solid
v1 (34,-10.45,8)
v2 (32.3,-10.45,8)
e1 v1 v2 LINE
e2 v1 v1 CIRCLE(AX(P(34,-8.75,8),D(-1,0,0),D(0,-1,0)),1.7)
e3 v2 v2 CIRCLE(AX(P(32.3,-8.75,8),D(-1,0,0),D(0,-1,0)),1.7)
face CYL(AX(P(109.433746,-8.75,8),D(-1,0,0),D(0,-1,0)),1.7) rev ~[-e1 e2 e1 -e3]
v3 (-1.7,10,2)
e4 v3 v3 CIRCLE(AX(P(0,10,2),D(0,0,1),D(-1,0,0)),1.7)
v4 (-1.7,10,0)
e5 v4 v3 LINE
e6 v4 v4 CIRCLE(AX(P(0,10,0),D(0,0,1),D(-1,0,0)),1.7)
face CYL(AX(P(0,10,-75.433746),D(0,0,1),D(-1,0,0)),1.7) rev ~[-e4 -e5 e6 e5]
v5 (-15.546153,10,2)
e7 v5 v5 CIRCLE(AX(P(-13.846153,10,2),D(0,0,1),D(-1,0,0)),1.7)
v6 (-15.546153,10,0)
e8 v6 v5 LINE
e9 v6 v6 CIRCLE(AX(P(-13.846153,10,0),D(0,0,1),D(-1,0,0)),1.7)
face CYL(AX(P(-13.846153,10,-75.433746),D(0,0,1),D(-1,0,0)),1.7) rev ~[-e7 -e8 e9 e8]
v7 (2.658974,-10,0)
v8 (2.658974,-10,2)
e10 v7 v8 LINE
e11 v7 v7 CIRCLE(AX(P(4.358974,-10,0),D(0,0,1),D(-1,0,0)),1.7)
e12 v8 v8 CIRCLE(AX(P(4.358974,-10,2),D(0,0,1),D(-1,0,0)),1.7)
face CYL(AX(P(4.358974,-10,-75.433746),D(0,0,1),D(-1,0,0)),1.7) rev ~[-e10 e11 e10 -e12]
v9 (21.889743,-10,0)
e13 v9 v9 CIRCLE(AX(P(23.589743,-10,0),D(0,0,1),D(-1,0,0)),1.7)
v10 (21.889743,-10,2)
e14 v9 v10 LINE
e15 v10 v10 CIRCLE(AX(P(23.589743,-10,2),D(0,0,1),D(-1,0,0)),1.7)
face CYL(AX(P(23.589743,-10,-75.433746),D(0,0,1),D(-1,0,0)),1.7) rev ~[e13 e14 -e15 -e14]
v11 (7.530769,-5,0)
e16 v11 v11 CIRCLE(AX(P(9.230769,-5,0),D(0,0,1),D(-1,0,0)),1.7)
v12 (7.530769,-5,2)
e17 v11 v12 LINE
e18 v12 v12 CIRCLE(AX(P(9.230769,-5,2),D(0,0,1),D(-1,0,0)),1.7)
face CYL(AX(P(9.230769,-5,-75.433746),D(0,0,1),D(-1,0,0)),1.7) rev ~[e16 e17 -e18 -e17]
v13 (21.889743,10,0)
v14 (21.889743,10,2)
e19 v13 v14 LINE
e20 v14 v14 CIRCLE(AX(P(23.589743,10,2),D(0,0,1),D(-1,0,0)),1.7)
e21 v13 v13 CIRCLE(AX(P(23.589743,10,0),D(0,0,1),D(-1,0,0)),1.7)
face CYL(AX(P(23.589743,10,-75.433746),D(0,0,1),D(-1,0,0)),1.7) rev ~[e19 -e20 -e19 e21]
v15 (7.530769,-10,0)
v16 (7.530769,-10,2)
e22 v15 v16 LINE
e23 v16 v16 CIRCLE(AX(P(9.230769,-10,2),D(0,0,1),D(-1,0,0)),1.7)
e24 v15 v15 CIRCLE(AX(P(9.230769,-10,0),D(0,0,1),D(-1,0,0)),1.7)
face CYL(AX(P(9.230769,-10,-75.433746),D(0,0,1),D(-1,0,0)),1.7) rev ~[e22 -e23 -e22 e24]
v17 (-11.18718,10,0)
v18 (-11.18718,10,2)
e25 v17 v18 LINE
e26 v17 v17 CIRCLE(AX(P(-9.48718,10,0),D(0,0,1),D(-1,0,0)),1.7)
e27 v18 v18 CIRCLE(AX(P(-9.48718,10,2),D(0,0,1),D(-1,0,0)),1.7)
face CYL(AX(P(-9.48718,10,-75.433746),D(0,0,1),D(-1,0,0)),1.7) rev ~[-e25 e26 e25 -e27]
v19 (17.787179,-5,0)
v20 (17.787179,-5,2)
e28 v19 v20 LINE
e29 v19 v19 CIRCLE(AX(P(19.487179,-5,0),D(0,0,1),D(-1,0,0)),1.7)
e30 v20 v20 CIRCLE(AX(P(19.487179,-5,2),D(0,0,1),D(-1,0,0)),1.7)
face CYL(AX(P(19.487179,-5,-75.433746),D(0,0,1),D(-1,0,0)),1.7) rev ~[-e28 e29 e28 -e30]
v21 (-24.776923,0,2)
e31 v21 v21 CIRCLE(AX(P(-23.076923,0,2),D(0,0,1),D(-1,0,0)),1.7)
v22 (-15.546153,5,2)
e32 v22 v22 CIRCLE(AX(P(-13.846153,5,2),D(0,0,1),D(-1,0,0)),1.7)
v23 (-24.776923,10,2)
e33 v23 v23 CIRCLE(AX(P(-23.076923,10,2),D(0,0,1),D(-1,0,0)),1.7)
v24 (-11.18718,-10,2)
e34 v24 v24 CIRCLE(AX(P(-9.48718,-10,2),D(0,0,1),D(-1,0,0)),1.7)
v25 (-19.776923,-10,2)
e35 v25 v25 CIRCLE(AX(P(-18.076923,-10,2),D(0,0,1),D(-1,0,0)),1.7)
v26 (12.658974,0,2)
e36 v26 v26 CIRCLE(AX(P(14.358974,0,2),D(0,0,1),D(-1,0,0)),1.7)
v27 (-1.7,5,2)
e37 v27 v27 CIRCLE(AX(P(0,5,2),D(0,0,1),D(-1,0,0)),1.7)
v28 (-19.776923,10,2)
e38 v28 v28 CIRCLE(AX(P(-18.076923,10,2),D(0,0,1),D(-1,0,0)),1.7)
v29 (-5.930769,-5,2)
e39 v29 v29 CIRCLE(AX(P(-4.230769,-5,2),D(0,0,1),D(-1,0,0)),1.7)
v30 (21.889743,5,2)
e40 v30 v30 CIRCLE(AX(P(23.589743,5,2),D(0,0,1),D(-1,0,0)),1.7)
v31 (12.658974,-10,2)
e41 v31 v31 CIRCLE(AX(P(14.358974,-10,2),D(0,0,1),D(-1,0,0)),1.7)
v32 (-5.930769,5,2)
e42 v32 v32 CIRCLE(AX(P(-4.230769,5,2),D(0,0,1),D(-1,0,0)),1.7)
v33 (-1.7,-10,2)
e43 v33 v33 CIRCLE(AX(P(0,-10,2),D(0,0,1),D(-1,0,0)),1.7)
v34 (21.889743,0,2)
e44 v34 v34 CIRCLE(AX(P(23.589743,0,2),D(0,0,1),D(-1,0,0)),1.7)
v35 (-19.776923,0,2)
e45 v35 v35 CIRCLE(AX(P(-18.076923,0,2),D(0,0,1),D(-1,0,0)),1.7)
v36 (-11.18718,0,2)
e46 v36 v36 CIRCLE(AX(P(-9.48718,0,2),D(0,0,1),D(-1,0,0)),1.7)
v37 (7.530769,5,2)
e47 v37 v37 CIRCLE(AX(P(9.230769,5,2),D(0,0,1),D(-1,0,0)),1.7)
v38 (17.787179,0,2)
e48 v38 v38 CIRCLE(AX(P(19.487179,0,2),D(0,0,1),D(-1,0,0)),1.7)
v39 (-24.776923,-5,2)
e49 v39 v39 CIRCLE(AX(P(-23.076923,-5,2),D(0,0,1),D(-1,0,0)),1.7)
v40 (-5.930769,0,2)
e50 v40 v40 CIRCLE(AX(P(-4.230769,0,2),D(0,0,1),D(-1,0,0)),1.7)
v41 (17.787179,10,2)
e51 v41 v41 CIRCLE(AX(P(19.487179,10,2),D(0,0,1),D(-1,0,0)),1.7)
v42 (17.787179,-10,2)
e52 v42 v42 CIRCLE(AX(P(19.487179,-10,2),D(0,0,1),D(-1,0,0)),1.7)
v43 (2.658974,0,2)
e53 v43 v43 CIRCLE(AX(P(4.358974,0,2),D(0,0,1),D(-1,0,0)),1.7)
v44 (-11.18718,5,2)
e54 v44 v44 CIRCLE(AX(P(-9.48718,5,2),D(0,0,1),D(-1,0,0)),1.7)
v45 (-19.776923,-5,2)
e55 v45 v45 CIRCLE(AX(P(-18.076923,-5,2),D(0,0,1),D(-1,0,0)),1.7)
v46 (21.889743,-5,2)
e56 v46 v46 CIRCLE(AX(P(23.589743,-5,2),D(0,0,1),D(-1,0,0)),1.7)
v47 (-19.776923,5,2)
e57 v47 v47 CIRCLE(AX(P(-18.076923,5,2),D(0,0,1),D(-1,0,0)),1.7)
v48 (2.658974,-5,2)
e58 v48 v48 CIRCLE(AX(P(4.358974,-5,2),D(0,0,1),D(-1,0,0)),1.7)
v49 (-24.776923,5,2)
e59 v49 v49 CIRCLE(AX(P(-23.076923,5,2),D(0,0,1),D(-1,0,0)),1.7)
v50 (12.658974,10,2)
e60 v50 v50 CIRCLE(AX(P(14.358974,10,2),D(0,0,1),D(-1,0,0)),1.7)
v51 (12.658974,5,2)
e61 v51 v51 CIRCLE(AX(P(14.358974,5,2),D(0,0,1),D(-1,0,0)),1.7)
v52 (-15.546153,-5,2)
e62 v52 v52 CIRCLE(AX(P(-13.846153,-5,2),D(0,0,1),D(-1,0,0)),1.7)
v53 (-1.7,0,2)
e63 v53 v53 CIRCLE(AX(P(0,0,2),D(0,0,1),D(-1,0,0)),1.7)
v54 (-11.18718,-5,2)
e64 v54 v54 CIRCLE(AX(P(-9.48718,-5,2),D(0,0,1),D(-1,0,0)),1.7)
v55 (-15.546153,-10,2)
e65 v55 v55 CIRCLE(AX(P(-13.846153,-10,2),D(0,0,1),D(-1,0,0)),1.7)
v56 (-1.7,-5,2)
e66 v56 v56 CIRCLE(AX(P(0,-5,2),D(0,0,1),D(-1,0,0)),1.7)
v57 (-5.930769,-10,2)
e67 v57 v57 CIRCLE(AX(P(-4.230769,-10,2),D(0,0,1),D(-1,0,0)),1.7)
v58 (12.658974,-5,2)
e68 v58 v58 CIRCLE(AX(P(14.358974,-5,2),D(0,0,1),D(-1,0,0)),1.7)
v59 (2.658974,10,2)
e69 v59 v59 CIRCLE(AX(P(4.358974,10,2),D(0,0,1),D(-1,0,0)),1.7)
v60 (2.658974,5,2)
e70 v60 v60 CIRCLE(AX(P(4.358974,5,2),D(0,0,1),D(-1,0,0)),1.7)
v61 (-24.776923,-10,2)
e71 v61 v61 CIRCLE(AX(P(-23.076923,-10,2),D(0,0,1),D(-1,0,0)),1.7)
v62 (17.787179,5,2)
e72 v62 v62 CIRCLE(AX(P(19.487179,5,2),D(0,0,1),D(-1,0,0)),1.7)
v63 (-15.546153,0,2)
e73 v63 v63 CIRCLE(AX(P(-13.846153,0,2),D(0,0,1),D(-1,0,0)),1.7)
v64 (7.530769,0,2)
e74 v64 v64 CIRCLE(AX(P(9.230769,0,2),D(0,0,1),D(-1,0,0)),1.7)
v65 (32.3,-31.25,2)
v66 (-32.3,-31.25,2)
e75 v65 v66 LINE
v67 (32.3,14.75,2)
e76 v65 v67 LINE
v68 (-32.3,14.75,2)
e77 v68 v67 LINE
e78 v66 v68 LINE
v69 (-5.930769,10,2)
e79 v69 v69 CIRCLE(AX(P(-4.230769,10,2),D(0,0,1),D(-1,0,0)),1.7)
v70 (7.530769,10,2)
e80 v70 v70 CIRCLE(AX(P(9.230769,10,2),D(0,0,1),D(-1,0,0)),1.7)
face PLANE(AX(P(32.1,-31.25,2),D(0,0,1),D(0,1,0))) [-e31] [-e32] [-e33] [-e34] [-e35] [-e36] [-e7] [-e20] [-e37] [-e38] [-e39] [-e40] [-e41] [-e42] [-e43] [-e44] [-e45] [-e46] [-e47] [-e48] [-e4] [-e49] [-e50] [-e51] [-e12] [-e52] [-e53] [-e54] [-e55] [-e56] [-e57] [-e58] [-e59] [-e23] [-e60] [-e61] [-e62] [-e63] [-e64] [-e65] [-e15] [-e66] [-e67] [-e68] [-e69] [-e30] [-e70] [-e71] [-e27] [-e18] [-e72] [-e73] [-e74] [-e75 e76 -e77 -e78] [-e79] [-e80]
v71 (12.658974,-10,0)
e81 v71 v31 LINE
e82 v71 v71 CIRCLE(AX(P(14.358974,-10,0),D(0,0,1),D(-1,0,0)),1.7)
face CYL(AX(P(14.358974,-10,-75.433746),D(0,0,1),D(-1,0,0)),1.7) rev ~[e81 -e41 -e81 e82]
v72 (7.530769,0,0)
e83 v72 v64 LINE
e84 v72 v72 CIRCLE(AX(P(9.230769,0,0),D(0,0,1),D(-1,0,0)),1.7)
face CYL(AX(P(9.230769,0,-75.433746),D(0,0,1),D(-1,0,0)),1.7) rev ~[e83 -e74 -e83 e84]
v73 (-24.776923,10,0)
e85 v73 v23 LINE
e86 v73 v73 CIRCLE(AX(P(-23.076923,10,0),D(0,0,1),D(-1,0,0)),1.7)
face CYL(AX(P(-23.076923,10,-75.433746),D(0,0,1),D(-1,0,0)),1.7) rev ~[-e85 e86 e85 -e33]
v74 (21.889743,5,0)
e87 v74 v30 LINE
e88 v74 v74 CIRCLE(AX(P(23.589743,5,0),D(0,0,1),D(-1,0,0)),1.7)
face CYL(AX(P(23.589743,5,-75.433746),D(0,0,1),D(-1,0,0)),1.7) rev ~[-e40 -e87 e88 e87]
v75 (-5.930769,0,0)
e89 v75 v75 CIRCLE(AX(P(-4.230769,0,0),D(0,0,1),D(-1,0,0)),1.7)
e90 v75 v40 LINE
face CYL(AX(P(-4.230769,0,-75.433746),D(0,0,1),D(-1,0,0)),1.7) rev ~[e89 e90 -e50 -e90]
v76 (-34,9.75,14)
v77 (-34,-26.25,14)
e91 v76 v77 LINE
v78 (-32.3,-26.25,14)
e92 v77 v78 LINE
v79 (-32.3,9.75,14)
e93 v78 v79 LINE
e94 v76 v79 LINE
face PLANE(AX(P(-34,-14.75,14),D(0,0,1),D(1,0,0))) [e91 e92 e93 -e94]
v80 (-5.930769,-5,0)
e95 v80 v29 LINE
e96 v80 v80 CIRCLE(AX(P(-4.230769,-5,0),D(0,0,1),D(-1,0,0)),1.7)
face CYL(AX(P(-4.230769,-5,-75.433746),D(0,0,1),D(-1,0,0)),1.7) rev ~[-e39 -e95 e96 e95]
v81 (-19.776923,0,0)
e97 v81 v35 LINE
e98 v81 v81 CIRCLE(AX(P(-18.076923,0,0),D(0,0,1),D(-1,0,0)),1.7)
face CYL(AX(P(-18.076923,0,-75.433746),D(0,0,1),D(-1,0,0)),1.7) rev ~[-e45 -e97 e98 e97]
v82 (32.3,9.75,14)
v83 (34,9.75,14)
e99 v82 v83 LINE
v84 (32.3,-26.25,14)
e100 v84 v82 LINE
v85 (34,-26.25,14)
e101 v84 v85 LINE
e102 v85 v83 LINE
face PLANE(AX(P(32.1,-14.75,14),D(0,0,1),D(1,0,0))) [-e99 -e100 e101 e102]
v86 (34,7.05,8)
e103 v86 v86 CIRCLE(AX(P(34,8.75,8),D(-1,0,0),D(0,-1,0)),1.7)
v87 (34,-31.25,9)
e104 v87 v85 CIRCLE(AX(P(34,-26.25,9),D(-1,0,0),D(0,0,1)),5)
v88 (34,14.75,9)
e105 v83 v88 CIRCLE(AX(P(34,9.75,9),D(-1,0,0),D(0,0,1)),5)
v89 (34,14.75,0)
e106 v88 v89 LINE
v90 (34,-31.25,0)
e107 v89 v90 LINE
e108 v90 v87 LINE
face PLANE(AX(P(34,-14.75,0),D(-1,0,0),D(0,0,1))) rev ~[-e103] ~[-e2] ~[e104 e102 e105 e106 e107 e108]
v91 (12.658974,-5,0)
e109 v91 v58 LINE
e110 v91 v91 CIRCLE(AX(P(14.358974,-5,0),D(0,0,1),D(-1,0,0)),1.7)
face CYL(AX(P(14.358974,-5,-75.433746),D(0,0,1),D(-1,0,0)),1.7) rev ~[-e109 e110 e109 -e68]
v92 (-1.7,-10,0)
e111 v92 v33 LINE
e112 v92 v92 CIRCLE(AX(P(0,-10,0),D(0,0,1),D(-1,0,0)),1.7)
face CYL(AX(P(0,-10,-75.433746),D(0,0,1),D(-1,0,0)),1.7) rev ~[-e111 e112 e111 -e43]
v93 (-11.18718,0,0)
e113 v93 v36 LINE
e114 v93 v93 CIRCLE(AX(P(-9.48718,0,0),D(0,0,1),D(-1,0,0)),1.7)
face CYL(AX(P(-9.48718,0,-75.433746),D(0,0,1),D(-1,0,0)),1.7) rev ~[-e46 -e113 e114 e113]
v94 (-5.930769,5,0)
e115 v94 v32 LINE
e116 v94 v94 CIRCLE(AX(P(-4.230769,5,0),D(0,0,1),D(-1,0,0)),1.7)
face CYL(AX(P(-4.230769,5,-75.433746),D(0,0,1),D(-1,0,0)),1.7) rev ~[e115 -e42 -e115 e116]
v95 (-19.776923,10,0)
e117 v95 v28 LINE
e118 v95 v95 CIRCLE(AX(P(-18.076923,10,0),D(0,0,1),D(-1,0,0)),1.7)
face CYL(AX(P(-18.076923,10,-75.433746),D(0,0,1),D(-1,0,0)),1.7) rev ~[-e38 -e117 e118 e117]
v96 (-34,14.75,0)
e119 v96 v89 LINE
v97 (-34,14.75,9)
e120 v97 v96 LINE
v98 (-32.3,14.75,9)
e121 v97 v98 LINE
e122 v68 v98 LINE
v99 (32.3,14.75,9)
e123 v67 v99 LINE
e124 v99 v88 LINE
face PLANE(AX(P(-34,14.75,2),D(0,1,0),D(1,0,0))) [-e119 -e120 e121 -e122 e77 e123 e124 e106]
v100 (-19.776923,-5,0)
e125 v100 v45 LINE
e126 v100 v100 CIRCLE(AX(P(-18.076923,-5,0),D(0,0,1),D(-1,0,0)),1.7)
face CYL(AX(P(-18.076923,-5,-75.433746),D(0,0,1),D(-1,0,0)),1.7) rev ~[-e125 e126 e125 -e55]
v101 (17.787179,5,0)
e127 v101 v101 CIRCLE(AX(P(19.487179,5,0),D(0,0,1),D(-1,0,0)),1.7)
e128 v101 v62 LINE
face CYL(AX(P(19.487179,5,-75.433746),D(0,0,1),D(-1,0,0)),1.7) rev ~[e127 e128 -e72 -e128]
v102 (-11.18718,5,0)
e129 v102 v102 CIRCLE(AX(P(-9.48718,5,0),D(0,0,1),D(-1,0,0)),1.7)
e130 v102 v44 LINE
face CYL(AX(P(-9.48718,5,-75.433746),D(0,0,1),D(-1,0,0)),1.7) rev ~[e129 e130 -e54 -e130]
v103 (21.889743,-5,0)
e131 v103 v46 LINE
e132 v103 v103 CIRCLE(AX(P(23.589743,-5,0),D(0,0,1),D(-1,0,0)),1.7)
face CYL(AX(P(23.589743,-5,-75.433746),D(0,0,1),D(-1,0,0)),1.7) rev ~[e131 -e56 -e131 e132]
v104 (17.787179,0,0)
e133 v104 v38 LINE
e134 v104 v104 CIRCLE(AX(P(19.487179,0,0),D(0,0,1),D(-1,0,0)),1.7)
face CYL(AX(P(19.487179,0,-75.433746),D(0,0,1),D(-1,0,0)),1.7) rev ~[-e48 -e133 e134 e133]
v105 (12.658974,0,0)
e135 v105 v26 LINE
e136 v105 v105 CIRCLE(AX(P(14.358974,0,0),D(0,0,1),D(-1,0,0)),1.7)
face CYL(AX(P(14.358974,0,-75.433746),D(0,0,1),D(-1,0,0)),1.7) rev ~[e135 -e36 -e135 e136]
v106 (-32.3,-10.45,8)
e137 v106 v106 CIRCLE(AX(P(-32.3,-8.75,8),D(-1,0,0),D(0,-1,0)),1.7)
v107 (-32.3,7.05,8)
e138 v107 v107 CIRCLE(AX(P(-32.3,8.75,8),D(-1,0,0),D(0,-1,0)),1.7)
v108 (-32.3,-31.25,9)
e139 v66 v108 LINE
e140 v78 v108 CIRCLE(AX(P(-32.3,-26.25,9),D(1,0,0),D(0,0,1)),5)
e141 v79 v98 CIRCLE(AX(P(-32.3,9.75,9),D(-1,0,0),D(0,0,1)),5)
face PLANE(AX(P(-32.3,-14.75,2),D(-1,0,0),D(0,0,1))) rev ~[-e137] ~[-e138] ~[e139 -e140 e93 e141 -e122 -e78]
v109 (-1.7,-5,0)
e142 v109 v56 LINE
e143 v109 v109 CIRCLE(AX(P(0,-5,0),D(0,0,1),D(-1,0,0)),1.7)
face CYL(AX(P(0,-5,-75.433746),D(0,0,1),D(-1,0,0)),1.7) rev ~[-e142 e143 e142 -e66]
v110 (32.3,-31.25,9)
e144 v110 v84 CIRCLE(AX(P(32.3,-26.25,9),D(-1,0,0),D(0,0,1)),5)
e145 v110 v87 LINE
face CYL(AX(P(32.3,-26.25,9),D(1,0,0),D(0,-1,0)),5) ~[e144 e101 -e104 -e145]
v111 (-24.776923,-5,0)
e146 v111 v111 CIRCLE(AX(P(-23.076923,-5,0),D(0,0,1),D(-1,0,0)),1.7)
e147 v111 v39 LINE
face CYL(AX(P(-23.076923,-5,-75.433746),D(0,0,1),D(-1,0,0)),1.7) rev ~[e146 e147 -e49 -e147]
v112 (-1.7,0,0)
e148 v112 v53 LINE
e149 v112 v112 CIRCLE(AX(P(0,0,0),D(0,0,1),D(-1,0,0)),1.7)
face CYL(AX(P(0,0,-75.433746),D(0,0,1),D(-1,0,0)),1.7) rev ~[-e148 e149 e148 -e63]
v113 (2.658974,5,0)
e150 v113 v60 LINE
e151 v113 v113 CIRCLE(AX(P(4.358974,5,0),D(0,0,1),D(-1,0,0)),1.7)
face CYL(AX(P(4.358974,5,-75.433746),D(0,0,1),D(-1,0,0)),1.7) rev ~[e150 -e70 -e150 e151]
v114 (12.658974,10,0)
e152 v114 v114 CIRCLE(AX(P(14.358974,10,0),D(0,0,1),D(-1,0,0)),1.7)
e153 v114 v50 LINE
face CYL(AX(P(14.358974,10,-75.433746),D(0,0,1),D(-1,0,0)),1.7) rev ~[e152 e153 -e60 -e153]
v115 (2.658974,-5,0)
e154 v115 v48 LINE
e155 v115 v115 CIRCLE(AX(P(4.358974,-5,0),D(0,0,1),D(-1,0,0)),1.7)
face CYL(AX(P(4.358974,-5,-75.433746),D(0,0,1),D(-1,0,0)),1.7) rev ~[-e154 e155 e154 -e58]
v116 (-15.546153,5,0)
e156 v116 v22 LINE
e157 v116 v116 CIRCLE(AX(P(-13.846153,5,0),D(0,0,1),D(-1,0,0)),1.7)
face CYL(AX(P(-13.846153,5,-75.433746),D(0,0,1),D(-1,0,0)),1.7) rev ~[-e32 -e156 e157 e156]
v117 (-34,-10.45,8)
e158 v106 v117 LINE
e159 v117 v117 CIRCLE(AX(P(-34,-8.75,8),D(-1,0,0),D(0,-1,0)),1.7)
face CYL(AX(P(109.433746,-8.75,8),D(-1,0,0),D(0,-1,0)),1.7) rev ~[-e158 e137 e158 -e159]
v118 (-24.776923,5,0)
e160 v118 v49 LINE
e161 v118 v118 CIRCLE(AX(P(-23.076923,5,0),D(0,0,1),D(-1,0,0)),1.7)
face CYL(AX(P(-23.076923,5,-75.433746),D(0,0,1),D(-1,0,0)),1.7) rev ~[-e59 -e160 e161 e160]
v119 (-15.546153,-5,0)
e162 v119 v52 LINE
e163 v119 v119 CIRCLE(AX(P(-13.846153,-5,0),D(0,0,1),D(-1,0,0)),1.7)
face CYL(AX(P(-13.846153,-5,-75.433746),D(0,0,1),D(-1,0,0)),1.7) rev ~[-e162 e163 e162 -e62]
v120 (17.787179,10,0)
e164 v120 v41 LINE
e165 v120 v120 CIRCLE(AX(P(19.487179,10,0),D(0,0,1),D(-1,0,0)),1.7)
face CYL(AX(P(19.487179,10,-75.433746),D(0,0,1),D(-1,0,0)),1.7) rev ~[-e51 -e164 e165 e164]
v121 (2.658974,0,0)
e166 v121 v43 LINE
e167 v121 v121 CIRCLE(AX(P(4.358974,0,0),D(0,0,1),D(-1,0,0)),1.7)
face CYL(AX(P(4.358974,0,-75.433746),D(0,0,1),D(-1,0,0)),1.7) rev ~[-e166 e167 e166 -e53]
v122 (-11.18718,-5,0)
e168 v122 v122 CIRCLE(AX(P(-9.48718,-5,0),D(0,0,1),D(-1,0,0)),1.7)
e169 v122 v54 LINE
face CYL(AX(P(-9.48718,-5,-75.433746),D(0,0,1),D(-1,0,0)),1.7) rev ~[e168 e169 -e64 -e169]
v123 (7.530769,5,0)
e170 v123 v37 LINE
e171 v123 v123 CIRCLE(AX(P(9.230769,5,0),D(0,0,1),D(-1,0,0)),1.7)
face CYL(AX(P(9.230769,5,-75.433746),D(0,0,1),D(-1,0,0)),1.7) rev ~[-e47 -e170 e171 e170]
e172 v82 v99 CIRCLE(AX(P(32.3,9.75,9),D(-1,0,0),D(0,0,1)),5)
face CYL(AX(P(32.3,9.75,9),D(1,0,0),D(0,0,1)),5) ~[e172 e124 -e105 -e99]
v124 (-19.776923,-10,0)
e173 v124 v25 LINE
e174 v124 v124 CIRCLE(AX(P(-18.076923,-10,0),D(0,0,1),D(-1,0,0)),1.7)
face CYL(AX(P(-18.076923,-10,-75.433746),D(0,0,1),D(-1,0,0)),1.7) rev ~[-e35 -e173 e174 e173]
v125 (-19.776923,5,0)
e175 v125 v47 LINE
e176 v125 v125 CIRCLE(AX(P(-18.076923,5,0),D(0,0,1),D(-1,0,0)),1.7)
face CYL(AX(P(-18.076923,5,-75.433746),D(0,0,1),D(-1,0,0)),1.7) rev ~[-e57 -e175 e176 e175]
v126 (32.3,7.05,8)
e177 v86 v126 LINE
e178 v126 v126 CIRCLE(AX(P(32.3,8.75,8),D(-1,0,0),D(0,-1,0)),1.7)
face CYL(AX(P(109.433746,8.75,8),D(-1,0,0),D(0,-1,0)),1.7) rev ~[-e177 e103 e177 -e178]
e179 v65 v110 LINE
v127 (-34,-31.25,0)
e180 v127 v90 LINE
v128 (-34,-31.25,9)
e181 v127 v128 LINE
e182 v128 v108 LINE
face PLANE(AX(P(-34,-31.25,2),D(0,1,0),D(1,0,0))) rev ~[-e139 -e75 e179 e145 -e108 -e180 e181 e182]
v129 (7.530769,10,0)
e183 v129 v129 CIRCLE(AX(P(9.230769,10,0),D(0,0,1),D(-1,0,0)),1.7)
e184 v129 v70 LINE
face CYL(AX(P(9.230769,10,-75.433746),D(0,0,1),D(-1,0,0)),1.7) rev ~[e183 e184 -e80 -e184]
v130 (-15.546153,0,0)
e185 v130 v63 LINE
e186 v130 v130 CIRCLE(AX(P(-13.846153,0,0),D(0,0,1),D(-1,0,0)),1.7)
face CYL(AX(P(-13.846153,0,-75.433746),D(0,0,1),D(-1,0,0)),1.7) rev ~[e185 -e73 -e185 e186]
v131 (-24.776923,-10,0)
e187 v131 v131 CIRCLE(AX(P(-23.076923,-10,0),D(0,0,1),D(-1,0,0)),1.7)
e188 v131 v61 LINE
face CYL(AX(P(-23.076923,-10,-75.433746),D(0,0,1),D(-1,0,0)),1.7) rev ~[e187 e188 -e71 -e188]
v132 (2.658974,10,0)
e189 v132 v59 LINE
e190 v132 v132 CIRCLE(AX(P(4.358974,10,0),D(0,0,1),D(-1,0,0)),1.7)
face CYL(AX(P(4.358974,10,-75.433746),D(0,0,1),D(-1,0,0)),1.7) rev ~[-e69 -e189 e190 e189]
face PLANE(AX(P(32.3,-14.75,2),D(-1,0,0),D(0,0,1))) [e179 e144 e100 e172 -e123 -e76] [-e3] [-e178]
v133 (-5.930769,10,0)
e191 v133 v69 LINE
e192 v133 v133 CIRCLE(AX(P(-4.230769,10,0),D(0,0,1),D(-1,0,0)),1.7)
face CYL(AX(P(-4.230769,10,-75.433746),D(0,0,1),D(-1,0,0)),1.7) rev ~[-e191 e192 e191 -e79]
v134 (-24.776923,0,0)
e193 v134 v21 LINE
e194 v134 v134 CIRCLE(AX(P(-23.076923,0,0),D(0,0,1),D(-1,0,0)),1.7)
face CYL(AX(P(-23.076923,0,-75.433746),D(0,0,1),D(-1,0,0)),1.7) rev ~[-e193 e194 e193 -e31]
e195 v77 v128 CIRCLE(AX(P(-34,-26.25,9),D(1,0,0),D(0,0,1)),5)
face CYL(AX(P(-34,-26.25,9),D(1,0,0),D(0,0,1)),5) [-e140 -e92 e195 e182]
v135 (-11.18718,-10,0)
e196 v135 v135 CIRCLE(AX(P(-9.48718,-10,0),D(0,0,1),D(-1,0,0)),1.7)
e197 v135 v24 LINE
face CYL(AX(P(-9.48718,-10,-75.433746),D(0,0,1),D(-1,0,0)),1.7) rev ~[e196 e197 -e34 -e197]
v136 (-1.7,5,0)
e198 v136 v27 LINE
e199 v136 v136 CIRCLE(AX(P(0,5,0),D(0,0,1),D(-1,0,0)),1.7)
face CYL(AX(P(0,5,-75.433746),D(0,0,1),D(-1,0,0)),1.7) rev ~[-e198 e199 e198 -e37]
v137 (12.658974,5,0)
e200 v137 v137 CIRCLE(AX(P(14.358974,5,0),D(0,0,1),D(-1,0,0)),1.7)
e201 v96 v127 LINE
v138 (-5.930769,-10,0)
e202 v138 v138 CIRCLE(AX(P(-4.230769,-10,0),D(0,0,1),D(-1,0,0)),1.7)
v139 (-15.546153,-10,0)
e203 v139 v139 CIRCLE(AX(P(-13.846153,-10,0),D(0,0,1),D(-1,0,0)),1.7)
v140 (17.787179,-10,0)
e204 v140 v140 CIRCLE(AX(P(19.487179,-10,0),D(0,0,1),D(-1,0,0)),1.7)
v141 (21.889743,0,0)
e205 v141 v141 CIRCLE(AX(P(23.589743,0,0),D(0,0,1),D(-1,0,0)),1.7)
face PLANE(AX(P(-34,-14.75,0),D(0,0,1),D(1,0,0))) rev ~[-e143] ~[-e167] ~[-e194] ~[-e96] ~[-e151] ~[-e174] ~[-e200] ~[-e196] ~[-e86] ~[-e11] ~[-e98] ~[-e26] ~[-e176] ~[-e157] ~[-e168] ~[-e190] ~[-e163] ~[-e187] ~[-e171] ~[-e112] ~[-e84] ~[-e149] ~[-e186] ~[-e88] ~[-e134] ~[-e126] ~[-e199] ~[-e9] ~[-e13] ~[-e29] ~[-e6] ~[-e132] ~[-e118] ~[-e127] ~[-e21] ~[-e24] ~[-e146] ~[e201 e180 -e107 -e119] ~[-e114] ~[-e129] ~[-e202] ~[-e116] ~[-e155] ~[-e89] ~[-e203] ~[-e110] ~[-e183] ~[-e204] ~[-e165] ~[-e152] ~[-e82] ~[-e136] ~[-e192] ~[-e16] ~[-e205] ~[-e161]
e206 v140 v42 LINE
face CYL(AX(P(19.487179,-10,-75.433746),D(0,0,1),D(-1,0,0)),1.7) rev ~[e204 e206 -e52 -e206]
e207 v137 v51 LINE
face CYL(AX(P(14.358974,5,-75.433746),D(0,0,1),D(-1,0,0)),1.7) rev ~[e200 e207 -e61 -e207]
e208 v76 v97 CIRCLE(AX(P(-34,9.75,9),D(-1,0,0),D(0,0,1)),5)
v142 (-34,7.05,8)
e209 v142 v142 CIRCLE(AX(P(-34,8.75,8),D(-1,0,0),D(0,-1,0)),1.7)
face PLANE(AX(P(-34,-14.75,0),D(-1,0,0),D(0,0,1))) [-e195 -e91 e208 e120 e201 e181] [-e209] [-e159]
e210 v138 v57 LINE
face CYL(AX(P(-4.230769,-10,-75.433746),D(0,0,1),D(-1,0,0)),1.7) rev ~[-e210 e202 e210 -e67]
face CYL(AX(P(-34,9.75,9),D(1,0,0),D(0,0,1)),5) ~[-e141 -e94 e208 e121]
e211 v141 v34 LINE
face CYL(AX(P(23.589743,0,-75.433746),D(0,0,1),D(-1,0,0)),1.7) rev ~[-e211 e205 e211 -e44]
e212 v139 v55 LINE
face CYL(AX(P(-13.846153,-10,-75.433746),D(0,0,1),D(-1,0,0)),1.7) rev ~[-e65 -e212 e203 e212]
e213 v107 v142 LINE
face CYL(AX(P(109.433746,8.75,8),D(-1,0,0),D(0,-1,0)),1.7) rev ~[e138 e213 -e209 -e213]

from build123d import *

# Parameters (mm, degrees)
F0_W      = 68
F0_H      = 29.5
F1_DEPTH  = 2
F2_W      = 1.9
F2_H      = 29.5
F3_DEPTH  = 12
F5_D      = 3.4
F7_D      = 3.4
F8_DEPTH  = 16.5
F9_DEPTH  = 0.2
F10_DEPTH = 0.2
F11_R     = 5


with BuildPart() as f1:
    # F0 (on Top) → F1 (new body)
    with BuildSketch(Plane.XY):
        Rectangle(F0_W, F0_H)
    extrude(amount=F1_DEPTH)

    # F2 (on face) → F3 (join)
    with BuildSketch(Plane.XY.offset(2)):
        with Locations((-33.05, 0)):
            Rectangle(F2_W, F2_H)
        with Locations((33.05, 0)):
            Rectangle(F2_W, F2_H)
    extrude(amount=F3_DEPTH)

    # F5 (through all)
    with Locations(Plane.YZ.offset(34)):
        with Locations((-8.75, 8), (8.75, 8)):
            Hole(F5_D / 2)

    # F7 (through all)
    with Locations(Plane(origin=(0, 0, 0), x_dir=(1, 0, 0), z_dir=(0, 0, -1))):
        with Locations((-23.0769233018, -10), (-18.076922571, -10), (-13.8461533964, -10), (-9.4871796933, -10), (-4.2307691746, -10), (0, -10), (4.3589744339, -10), (9.2307691746, -10), (14.3589744339, -10), (19.4871789625, -10), (23.5897428777, -10), (23.5897428777, -5), (19.4871789625, -5), (14.3589744339, -5), (9.2307691746, -5), (4.3589744339, -5), (0, -5), (-4.2307691746, -5), (-9.4871796933, -5), (-13.8461533964, -5), (-18.076922571, -5), (-23.0769233018, -5), (-23.0769233018, 0), (-18.076922571, 0), (-13.8461533964, 0), (-9.4871796933, 0), (-4.2307691746, 0), (0, 0), (14.3589744339, 0), (4.3589744339, 0), (9.2307691746, 0), (19.4871789625, 0), (23.5897428777, 0), (23.5897428777, 5), (19.4871789625, 5), (14.3589744339, 5), (9.2307691746, 5), (4.3589744339, 5), (0, 5), (-4.2307691746, 5), (-9.4871796933, 5), (-13.8461533964, 5), (-18.076922571, 5), (-23.0769233018, 5), (-23.0769233018, 10), (-18.076922571, 10), (-13.8461533964, 10), (-9.4871796933, 10), (-4.2307691746, 10), (0, 10), (4.3589744339, 10), (9.2307691746, 10), (14.3589744339, 10), (19.4871789625, 10), (23.5897428777, 10)):
            Hole(F7_D / 2)

    # F8 (add): a face of the model
    f8_faces = [f1.faces().sort_by_distance(p)[0] for p in [
        (-33.3057378017, -14.75, 7),
    ]]
    extrude(f8_faces, amount=F8_DEPTH)

    # F9 (cut): a face of the model
    f9_faces = [f1.faces().sort_by_distance(p)[0] for p in [
        (-32.1, -8.25, 2.475394573),
    ]]
    extrude(f9_faces, amount=-F9_DEPTH, mode=Mode.SUBTRACT)

    # F10 (cut): a face of the model
    f10_faces = [f1.faces().sort_by_distance(p)[0] for p in [
        (32.1, 14.274605427, 8),
    ]]
    extrude(f10_faces, amount=-F10_DEPTH, mode=Mode.SUBTRACT)

    # F11
    f11_edges = [f1.edges().sort_by_distance(p)[0] for p in [
        (-33.15, -31.25, 14),
        (33.15, -31.25, 14),
        (-33.15, 14.75, 14),
        (33.15, 14.75, 14),
    ]]
    fillet(f11_edges, radius=F11_R)


solid = f1.part
